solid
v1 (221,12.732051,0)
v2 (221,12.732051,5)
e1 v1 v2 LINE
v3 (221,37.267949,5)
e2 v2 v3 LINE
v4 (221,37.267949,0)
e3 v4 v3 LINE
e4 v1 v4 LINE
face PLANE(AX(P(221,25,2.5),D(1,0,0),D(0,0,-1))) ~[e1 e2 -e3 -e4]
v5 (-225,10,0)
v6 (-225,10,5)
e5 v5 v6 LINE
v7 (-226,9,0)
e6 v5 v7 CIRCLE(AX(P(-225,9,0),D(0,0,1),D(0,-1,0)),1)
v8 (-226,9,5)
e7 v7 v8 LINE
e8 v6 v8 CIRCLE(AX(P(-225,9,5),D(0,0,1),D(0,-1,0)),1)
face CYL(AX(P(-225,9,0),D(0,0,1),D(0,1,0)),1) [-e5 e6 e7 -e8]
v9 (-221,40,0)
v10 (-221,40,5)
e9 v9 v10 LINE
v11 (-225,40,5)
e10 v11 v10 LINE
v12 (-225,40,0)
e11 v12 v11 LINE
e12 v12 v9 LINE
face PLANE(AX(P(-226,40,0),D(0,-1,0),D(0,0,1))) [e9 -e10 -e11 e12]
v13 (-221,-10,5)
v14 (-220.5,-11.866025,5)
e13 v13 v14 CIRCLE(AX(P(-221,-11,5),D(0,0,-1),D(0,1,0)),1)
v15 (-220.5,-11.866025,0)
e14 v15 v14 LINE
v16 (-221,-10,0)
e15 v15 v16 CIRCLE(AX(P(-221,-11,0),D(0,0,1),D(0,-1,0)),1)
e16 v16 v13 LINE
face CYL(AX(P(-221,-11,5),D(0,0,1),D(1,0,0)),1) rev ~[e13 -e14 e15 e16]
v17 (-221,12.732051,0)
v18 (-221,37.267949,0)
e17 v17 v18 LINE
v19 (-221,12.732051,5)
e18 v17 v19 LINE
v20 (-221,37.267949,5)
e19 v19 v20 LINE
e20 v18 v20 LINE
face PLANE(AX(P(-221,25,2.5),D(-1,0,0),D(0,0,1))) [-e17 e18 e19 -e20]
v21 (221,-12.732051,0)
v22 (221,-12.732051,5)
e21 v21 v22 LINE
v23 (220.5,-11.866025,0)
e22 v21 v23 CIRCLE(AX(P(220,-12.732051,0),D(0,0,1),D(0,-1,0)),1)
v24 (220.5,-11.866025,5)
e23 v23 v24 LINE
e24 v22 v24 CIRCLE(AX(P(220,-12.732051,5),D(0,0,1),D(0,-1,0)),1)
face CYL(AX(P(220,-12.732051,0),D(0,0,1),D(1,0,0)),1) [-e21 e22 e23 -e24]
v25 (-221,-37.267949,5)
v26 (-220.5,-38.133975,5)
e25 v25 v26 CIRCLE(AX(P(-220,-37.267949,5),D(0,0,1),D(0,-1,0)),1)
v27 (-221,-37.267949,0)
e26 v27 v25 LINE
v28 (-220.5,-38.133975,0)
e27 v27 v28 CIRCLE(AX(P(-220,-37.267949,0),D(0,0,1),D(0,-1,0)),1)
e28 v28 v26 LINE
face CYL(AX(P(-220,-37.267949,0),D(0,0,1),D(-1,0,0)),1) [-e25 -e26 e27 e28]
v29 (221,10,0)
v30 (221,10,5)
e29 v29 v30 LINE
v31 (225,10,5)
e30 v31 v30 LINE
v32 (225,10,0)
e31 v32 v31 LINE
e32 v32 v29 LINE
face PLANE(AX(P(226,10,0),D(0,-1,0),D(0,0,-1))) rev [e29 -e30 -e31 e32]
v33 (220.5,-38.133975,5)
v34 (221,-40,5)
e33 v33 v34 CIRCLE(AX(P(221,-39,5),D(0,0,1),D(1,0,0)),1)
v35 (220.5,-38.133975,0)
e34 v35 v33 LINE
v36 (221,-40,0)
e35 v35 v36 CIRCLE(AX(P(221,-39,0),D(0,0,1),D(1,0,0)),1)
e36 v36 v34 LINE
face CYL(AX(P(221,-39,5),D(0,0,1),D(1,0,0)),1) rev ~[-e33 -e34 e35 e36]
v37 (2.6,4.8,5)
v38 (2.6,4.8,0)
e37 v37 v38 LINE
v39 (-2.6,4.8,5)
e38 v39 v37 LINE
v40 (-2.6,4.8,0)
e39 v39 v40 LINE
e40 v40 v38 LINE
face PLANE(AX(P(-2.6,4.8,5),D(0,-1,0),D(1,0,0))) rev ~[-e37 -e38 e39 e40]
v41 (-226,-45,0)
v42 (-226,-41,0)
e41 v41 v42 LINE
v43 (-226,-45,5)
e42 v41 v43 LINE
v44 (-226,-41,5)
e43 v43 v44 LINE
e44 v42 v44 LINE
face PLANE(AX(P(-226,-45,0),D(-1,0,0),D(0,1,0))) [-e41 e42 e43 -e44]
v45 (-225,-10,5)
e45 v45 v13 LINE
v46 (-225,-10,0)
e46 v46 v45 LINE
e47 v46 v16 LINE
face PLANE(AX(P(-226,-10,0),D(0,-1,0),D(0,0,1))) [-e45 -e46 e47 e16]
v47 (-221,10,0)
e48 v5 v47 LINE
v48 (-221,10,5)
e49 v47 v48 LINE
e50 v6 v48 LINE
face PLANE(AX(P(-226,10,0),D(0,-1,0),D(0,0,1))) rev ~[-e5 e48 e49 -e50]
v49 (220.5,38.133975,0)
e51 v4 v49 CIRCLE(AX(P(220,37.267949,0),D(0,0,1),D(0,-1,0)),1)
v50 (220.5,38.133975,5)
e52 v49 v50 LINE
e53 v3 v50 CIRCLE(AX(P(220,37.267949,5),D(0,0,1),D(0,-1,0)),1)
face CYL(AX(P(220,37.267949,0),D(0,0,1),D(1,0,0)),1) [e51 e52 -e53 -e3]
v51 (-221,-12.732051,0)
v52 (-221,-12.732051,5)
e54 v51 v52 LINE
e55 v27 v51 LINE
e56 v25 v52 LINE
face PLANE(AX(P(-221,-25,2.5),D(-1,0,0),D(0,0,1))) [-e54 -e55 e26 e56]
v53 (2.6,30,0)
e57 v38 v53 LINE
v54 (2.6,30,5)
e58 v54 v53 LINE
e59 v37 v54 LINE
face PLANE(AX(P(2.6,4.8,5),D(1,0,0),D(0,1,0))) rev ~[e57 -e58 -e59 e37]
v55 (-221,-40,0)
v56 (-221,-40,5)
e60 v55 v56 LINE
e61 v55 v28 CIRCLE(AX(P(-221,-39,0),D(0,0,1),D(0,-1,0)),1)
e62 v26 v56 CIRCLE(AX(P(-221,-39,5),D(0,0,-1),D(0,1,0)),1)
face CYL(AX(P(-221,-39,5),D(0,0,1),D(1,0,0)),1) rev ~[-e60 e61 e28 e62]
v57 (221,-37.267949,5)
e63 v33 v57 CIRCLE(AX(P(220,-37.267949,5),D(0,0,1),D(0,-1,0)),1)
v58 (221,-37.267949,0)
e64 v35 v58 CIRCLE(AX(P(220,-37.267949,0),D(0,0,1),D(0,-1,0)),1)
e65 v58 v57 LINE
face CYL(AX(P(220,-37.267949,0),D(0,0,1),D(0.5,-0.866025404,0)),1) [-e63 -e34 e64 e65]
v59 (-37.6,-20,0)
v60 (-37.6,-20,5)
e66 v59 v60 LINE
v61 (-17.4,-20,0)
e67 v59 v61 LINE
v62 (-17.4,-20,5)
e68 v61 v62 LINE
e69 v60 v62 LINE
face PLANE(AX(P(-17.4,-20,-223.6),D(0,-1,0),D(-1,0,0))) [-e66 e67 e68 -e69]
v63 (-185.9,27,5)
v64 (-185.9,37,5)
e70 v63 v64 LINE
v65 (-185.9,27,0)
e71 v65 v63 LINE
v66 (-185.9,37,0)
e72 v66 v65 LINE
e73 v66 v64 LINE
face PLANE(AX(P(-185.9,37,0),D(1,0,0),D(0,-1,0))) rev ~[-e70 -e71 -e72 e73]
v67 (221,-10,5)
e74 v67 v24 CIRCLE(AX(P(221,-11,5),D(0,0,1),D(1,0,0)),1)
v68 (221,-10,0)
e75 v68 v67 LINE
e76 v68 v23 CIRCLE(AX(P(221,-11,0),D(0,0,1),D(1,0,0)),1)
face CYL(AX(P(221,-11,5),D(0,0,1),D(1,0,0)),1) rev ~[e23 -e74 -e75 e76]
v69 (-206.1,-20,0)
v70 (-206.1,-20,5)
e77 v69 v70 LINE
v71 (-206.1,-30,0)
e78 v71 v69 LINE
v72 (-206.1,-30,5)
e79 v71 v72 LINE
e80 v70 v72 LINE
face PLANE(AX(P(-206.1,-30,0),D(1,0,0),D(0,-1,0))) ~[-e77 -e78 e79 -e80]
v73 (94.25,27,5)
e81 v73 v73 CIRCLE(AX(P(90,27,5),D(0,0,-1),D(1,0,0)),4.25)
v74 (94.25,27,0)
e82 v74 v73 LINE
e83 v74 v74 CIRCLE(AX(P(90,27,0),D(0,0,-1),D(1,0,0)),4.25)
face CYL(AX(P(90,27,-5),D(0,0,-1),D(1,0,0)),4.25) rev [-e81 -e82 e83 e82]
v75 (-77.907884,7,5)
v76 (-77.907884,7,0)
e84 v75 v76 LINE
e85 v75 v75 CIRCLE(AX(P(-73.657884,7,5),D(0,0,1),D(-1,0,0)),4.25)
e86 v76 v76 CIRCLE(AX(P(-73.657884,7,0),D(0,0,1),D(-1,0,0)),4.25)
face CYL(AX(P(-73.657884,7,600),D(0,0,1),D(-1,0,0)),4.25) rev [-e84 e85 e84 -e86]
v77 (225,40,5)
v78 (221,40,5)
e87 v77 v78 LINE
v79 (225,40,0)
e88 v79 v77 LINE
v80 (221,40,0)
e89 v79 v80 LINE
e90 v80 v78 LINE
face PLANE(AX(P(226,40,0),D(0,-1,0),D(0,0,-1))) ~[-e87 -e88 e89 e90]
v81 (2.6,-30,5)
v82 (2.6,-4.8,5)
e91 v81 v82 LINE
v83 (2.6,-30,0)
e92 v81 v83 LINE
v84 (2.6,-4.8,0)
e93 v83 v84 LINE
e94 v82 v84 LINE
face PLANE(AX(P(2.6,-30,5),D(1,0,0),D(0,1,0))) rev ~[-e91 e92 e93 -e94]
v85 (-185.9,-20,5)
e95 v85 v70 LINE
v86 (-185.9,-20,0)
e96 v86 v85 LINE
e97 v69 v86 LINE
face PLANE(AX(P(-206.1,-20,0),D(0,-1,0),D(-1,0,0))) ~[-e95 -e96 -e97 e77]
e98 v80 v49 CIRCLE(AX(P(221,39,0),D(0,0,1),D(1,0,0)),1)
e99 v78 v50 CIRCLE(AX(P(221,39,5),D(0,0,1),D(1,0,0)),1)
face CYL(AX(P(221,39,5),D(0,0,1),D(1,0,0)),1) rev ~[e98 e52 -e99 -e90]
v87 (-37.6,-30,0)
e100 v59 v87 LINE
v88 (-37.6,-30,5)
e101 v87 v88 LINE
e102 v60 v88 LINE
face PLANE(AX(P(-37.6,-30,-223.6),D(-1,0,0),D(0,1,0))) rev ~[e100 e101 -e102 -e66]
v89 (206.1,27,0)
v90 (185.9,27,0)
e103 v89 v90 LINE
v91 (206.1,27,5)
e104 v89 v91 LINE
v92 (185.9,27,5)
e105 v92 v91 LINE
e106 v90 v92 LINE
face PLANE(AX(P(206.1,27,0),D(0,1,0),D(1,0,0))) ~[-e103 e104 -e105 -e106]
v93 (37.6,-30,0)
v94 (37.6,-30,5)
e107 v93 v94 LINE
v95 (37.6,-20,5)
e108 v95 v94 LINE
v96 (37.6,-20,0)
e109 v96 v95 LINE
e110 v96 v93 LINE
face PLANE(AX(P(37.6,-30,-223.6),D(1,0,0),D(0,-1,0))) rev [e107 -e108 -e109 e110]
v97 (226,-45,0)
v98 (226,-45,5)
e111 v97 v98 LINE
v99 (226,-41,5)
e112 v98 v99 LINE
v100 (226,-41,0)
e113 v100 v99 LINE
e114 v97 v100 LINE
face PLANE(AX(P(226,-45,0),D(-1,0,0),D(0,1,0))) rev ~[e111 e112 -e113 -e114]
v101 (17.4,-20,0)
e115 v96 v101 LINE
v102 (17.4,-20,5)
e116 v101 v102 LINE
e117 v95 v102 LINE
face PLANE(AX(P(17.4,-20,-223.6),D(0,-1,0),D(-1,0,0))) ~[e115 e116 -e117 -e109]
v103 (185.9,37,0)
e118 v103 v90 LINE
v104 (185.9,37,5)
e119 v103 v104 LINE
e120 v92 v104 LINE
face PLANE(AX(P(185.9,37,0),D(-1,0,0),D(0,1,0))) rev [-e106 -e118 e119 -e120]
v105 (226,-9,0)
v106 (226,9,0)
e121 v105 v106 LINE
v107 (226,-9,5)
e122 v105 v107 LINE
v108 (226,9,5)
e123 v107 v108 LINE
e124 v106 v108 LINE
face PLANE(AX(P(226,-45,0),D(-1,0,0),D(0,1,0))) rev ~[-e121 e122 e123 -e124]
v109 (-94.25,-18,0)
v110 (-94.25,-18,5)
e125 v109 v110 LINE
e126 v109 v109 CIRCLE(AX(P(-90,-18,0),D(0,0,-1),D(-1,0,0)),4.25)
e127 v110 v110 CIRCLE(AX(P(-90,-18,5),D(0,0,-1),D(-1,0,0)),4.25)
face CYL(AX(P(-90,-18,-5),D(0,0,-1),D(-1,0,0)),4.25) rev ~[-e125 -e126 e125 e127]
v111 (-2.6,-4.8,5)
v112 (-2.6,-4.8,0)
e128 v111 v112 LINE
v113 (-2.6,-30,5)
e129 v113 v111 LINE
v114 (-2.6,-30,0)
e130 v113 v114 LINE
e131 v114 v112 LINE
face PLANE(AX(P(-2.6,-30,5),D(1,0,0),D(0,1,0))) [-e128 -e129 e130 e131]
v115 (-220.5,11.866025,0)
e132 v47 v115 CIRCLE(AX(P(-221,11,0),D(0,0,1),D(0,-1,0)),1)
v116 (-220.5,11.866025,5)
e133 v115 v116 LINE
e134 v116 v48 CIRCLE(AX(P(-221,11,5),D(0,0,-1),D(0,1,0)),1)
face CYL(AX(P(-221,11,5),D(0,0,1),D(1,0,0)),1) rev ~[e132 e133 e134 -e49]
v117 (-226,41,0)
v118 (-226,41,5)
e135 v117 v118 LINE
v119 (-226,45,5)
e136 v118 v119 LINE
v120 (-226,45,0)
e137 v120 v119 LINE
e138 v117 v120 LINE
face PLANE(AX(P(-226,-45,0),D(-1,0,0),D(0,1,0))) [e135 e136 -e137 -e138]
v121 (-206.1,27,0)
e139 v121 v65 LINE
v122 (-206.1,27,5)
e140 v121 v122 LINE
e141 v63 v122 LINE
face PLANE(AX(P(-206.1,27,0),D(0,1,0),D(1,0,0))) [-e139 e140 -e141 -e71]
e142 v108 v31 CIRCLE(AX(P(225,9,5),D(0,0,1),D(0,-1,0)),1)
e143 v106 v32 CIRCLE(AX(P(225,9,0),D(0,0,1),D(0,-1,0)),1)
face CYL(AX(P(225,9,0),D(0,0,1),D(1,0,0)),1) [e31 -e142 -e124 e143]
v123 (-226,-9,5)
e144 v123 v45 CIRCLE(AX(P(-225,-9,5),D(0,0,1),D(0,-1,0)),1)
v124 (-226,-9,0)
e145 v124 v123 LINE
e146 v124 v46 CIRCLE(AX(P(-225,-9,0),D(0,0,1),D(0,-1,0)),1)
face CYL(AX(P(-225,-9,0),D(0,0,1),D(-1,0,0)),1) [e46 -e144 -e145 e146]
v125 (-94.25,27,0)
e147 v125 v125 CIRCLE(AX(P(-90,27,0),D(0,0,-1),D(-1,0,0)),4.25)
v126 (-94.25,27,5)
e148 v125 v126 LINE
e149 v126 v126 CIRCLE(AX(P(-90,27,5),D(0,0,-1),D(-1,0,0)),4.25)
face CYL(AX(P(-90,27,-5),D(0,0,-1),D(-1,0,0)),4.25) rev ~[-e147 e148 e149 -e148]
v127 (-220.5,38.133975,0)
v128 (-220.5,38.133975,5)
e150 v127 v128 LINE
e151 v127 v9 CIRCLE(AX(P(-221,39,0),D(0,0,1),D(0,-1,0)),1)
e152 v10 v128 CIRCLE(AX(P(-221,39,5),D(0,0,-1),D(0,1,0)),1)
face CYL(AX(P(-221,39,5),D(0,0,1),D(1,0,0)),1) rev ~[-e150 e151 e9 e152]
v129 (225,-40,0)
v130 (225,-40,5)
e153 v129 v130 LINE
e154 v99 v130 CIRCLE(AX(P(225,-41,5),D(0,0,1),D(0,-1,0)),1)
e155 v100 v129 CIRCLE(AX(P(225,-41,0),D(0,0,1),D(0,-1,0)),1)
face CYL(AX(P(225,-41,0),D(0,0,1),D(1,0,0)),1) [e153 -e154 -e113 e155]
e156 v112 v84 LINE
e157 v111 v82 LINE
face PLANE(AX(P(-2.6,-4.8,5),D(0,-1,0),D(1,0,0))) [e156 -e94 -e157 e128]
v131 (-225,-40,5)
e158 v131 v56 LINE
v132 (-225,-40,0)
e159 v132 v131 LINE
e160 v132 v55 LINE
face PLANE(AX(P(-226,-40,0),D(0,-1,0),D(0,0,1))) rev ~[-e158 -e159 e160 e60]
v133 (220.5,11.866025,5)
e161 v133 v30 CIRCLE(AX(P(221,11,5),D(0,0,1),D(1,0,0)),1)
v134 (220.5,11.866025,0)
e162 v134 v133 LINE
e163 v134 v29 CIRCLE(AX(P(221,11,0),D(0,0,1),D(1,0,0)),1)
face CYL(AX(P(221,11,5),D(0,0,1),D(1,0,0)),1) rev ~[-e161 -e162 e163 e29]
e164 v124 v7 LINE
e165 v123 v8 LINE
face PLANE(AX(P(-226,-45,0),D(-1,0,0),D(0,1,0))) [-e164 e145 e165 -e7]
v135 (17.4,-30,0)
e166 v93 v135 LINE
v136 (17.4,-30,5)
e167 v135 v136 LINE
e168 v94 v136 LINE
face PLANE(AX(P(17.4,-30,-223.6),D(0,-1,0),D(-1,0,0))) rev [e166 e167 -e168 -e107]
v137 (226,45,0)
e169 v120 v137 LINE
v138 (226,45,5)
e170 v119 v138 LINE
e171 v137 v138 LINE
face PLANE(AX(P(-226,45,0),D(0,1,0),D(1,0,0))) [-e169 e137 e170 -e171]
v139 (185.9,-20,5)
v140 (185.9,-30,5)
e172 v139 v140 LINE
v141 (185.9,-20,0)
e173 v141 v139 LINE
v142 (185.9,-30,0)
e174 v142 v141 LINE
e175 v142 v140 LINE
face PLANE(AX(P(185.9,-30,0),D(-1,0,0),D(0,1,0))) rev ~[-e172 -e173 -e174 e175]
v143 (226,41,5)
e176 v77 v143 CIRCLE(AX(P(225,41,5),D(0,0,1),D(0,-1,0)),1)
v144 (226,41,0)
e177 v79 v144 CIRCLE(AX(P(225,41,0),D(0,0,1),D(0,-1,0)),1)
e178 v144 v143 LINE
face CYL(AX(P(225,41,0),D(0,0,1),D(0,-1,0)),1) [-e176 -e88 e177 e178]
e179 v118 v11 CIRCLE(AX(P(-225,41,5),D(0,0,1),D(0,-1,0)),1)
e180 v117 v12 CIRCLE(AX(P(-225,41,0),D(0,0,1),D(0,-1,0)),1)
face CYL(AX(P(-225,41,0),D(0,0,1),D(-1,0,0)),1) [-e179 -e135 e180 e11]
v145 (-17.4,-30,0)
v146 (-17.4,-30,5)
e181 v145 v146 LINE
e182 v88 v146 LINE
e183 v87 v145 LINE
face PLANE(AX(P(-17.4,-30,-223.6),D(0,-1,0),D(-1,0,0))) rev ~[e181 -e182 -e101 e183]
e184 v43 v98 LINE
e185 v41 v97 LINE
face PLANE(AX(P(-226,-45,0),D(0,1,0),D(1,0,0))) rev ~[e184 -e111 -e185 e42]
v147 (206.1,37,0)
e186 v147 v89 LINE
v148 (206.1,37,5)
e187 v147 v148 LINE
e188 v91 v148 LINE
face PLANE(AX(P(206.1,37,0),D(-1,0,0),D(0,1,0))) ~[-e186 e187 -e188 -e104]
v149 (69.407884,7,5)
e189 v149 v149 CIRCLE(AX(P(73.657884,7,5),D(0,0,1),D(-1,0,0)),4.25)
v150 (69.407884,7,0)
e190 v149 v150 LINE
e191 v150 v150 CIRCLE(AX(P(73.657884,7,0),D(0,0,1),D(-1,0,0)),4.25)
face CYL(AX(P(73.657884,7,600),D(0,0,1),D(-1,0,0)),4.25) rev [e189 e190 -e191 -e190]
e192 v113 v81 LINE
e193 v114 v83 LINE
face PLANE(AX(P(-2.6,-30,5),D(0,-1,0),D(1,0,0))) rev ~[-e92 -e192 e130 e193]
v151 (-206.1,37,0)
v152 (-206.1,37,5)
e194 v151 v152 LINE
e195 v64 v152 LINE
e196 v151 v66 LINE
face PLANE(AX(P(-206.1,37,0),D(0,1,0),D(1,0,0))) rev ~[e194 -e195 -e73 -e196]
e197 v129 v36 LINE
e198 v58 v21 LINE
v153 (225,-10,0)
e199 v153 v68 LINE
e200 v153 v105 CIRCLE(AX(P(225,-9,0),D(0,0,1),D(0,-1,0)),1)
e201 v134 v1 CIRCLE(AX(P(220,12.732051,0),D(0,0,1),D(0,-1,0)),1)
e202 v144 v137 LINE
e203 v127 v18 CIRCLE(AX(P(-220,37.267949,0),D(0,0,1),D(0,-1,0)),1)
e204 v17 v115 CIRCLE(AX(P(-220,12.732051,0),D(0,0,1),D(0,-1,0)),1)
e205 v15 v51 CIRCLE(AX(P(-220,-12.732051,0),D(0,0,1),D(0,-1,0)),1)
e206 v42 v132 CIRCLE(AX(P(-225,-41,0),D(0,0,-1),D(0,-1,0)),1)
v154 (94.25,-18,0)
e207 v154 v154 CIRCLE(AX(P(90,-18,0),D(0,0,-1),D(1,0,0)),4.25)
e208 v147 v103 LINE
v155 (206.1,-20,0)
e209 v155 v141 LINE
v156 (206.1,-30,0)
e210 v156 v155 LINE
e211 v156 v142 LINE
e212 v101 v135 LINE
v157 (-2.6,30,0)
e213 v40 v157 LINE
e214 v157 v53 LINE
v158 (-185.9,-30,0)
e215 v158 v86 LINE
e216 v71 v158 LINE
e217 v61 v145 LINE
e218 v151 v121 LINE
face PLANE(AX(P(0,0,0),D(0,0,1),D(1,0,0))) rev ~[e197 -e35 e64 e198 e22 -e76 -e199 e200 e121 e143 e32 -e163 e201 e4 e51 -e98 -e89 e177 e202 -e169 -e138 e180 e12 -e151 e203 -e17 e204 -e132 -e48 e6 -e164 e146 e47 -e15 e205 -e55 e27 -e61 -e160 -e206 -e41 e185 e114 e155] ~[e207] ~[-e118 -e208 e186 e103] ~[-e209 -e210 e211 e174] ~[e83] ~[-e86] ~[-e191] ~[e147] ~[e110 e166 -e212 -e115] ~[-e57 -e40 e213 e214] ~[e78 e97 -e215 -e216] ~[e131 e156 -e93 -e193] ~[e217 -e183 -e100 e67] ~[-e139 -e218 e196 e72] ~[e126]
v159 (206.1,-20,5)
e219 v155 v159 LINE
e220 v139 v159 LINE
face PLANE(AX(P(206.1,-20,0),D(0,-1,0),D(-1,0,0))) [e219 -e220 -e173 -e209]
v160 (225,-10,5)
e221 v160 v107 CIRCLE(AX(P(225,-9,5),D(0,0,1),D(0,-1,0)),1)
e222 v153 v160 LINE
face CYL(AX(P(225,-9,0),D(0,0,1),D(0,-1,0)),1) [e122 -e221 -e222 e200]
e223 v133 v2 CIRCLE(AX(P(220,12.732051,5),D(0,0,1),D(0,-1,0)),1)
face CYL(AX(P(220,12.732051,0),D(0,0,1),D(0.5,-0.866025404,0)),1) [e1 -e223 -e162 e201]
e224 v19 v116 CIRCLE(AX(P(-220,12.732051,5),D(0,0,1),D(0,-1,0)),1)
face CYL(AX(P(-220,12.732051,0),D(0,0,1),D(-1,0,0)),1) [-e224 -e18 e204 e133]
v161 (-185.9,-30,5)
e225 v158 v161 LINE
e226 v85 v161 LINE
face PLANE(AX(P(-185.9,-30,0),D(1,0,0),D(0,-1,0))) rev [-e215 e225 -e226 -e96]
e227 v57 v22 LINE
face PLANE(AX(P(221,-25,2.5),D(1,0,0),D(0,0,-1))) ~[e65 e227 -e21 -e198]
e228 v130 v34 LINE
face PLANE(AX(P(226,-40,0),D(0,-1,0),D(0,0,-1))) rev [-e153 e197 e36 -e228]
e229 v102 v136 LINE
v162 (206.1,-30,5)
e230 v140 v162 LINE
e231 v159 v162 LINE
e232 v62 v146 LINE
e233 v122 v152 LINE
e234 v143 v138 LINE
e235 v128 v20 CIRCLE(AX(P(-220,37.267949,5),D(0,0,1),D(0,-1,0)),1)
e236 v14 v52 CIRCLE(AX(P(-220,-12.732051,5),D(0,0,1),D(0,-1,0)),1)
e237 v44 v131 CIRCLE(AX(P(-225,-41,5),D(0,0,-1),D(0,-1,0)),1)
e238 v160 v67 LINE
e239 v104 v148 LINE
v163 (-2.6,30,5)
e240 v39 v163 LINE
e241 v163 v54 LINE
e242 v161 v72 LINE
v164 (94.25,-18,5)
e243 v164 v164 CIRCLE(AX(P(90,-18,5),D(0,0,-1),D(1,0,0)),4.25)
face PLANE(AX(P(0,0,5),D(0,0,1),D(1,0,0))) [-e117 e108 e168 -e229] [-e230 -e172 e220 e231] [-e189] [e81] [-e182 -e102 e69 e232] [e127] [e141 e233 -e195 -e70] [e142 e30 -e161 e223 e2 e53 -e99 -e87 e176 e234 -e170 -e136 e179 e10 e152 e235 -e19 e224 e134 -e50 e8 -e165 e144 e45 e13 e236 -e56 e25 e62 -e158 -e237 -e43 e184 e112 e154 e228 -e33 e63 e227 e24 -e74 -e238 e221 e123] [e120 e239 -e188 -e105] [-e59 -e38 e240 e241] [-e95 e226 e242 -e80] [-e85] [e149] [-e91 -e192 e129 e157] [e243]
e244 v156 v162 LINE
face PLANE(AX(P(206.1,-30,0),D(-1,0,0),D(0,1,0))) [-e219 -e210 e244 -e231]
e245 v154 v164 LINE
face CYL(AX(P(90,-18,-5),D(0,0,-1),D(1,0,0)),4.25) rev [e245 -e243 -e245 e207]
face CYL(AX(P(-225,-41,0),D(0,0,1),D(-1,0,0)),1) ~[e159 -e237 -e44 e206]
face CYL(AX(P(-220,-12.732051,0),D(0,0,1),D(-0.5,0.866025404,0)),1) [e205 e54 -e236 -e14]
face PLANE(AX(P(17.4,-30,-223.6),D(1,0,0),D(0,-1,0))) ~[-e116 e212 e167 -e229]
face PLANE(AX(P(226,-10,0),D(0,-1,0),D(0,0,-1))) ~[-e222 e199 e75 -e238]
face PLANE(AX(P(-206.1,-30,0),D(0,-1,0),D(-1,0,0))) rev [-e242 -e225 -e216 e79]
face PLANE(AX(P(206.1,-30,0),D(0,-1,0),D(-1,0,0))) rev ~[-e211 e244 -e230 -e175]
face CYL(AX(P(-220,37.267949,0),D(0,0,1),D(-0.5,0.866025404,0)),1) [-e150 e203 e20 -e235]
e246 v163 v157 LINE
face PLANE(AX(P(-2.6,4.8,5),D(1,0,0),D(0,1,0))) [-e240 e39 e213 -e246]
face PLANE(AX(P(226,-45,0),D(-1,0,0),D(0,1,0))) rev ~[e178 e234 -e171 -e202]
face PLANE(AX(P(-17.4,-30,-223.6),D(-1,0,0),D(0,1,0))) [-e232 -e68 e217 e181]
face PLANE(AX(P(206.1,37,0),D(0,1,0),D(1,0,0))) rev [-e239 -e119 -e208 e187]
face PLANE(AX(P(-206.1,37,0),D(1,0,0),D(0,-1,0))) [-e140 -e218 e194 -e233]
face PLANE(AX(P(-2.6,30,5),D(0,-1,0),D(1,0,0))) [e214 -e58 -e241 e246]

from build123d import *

# Parameters (mm, degrees)
SKETCH1_W                = 452
SKETCH1_H                = 90
BOSS_EXTRUDE1_DEPTH      = 5
SKETCH2_W                = 5.2
SKETCH2_H                = 25.2
CUT_EXTRUDE1_DEPTH       = 231.490780727
SKETCH4_W                = 5
SKETCH4_H                = 30
CUT_EXTRUDE5_DEPTH       = 5
SKETCH7_R                = 1
CUT_EXTRUDE6_DEPTH       = 231.490780727
FILLET4_R                = 1
SKETCH8_W                = 20.2
SKETCH8_H                = 10
CUT_EXTRUDE7_DEPTH       = 10
SKETCH9_W                = 20.2
SKETCH9_H                = 10
CUT_EXTRUDE8_DEPTH       = 300
MIRROR5_COPY_1_SKETCH_W  = 20.2
MIRROR5_COPY_1_SKETCH_H  = 10
MIRROR5_COPY_1_DEPTH     = 10
SKETCH11_R               = 4.25
CUT_EXTRUDE10_DEPTH      = 20
CUT_EXTRUDE11_DEPTH      = 30
CUT_EXTRUDE11_DEPTH_BACK = 600
SKETCH12_R               = 4.25


with BuildPart() as part:
    # Sketch1 → Boss-Extrude1 (new body)
    with BuildSketch(Plane.XY):
        Rectangle(SKETCH1_W, SKETCH1_H)
    extrude(amount=BOSS_EXTRUDE1_DEPTH)

    # Sketch2 → Cut-Extrude1 (cut, through all)
    with BuildSketch(Plane.XY.offset(5)):
        with Locations((0, 17.4)):
            Rectangle(SKETCH2_W, SKETCH2_H)
        with Locations((0, -17.4)):
            Rectangle(SKETCH2_W, SKETCH2_H)
    extrude(amount=-CUT_EXTRUDE1_DEPTH, mode=Mode.SUBTRACT)

    # Sketch4 → Cut-Extrude5 (cut)
    with BuildSketch(Plane.ZY.offset(226)):
        with Locations((2.5, 25)):
            Rectangle(SKETCH4_W, SKETCH4_H)
        with Locations((2.5, -25)):
            Rectangle(SKETCH4_W, SKETCH4_H)
    cut_extrude5 = extrude(amount=-CUT_EXTRUDE5_DEPTH, mode=Mode.SUBTRACT)

    # Mirror2: Cut-Extrude5 across plane
    add(cut_extrude5.mirror(Plane(origin=(0, 0, 0), x_dir=(0, 0, 1), z_dir=(1, 0, 0))), mode=Mode.SUBTRACT)

    # Sketch7 → Cut-Extrude6 (cut, through all)
    with BuildSketch(Plane.XY.offset(5)):
        with Locations((-221, 39)):
            Circle(SKETCH7_R)
        with Locations((-221, 11)):
            Circle(SKETCH7_R)
        with Locations((-221, -11)):
            Circle(SKETCH7_R)
        with Locations((-221, -39)):
            Circle(SKETCH7_R)
        with Locations((221, -39)):
            Circle(SKETCH7_R)
        with Locations((221, -11)):
            Circle(SKETCH7_R)
        with Locations((221, 11)):
            Circle(SKETCH7_R)
        with Locations((221, 39)):
            Circle(SKETCH7_R)
    extrude(amount=-CUT_EXTRUDE6_DEPTH, mode=Mode.SUBTRACT)

    # Fillet4
    fillet4_edges = [part.edges().sort_by_distance(p)[0] for p in [
        (221, 38, 2.5),
        (221, 12, 2.5),
        (221, -12, 2.5),
        (221, -38, 2.5),
        (-221, 38, 2.5),
        (-221, 12, 2.5),
        (-221, -38, 2.5),
        (-221, -12, 2.5),
        (-226, 10, 2.5),
        (-226, 40, 2.5),
        (-226, -40, 2.5),
        (-226, -10, 2.5),
        (226, 10, 2.5),
        (226, 40, 2.5),
        (226, -40, 2.5),
        (226, -10, 2.5),
    ]]
    fillet(fillet4_edges, radius=FILLET4_R)

    # Sketch8 → Cut-Extrude7 (cut)
    with BuildSketch(Plane(origin=(0, -610.456150304, 0), x_dir=(-1, 0, 0), z_dir=(0, 0, -1))):
        with Locations((-196, 585.456150304)):
            Rectangle(SKETCH8_W, SKETCH8_H)
    cut_extrude7 = extrude(amount=-CUT_EXTRUDE7_DEPTH, mode=Mode.SUBTRACT)

    # Mirror3: Cut-Extrude7 across plane
    add(cut_extrude7.mirror(Plane(origin=(0, 0, 0), x_dir=(0, 0, 1), z_dir=(1, 0, 0))), mode=Mode.SUBTRACT)

    # Sketch9 → Cut-Extrude8 (cut)
    with BuildSketch(Plane(origin=(0, -610.456150304, -223.6), x_dir=(-1, 0, 0), z_dir=(0, 0, -1))):
        with Locations((27.5, 585.456150304)):
            Rectangle(SKETCH9_W, SKETCH9_H)
    cut_extrude8 = extrude(amount=-CUT_EXTRUDE8_DEPTH, mode=Mode.SUBTRACT)

    # Mirror4: Cut-Extrude8 across plane
    add(cut_extrude8.mirror(Plane(origin=(0, 0, 0), x_dir=(0, 0, 1), z_dir=(1, 0, 0))), mode=Mode.SUBTRACT)

    # Mirror5: Cut-Extrude7 across plane
    add(cut_extrude7.mirror(Plane.ZX.offset(3.5)), mode=Mode.SUBTRACT)

    # Mirror5 copy 1 sketch → Mirror5 copy 1 (cut)
    with BuildSketch(Plane(origin=(0, 617.456150304, 0), x_dir=(1, 0, 0), z_dir=(0, 0, -1))):
        with Locations((-196, 585.456150304)):
            Rectangle(MIRROR5_COPY_1_SKETCH_W, MIRROR5_COPY_1_SKETCH_H)
    extrude(amount=-MIRROR5_COPY_1_DEPTH, mode=Mode.SUBTRACT)

    # Sketch11 → Cut-Extrude10 (cut)
    with BuildSketch(Plane(origin=(-635.072358446, 447.165636604, -5), x_dir=(1, 0, 0), z_dir=(0, 0, -1))):
        with Locations(Location((545.072358446, 420.165636604, 0), (0, 0, 180))):
            Circle(SKETCH11_R)
        with Locations(Location((545.072358446, 465.165636604, 0), (0, 0, 180))):
            Circle(SKETCH11_R)
    cut_extrude10 = extrude(amount=-CUT_EXTRUDE10_DEPTH, mode=Mode.SUBTRACT)

    # Mirror6: Cut-Extrude10 across plane
    add(cut_extrude10.mirror(Plane(origin=(0, 0, 0), x_dir=(0, 0, 1), z_dir=(1, 0, 0))), mode=Mode.SUBTRACT)

    # Sketch12 → Cut-Extrude11 (cut, two sides: drawn at the far end of the back side and taken through both)
    with BuildSketch(Plane(origin=(537.523634505, -819.47709654, 0), x_dir=(-1, 0, 0), z_dir=(0, 0, -1)).offset(-CUT_EXTRUDE11_DEPTH_BACK)):
        with Locations((611.181518753, 826.47709654)):
            Circle(SKETCH12_R)
        with Locations((463.865750257, 826.47709654)):
            Circle(SKETCH12_R)
    extrude(amount=CUT_EXTRUDE11_DEPTH + CUT_EXTRUDE11_DEPTH_BACK, mode=Mode.SUBTRACT)


solid = part.part
